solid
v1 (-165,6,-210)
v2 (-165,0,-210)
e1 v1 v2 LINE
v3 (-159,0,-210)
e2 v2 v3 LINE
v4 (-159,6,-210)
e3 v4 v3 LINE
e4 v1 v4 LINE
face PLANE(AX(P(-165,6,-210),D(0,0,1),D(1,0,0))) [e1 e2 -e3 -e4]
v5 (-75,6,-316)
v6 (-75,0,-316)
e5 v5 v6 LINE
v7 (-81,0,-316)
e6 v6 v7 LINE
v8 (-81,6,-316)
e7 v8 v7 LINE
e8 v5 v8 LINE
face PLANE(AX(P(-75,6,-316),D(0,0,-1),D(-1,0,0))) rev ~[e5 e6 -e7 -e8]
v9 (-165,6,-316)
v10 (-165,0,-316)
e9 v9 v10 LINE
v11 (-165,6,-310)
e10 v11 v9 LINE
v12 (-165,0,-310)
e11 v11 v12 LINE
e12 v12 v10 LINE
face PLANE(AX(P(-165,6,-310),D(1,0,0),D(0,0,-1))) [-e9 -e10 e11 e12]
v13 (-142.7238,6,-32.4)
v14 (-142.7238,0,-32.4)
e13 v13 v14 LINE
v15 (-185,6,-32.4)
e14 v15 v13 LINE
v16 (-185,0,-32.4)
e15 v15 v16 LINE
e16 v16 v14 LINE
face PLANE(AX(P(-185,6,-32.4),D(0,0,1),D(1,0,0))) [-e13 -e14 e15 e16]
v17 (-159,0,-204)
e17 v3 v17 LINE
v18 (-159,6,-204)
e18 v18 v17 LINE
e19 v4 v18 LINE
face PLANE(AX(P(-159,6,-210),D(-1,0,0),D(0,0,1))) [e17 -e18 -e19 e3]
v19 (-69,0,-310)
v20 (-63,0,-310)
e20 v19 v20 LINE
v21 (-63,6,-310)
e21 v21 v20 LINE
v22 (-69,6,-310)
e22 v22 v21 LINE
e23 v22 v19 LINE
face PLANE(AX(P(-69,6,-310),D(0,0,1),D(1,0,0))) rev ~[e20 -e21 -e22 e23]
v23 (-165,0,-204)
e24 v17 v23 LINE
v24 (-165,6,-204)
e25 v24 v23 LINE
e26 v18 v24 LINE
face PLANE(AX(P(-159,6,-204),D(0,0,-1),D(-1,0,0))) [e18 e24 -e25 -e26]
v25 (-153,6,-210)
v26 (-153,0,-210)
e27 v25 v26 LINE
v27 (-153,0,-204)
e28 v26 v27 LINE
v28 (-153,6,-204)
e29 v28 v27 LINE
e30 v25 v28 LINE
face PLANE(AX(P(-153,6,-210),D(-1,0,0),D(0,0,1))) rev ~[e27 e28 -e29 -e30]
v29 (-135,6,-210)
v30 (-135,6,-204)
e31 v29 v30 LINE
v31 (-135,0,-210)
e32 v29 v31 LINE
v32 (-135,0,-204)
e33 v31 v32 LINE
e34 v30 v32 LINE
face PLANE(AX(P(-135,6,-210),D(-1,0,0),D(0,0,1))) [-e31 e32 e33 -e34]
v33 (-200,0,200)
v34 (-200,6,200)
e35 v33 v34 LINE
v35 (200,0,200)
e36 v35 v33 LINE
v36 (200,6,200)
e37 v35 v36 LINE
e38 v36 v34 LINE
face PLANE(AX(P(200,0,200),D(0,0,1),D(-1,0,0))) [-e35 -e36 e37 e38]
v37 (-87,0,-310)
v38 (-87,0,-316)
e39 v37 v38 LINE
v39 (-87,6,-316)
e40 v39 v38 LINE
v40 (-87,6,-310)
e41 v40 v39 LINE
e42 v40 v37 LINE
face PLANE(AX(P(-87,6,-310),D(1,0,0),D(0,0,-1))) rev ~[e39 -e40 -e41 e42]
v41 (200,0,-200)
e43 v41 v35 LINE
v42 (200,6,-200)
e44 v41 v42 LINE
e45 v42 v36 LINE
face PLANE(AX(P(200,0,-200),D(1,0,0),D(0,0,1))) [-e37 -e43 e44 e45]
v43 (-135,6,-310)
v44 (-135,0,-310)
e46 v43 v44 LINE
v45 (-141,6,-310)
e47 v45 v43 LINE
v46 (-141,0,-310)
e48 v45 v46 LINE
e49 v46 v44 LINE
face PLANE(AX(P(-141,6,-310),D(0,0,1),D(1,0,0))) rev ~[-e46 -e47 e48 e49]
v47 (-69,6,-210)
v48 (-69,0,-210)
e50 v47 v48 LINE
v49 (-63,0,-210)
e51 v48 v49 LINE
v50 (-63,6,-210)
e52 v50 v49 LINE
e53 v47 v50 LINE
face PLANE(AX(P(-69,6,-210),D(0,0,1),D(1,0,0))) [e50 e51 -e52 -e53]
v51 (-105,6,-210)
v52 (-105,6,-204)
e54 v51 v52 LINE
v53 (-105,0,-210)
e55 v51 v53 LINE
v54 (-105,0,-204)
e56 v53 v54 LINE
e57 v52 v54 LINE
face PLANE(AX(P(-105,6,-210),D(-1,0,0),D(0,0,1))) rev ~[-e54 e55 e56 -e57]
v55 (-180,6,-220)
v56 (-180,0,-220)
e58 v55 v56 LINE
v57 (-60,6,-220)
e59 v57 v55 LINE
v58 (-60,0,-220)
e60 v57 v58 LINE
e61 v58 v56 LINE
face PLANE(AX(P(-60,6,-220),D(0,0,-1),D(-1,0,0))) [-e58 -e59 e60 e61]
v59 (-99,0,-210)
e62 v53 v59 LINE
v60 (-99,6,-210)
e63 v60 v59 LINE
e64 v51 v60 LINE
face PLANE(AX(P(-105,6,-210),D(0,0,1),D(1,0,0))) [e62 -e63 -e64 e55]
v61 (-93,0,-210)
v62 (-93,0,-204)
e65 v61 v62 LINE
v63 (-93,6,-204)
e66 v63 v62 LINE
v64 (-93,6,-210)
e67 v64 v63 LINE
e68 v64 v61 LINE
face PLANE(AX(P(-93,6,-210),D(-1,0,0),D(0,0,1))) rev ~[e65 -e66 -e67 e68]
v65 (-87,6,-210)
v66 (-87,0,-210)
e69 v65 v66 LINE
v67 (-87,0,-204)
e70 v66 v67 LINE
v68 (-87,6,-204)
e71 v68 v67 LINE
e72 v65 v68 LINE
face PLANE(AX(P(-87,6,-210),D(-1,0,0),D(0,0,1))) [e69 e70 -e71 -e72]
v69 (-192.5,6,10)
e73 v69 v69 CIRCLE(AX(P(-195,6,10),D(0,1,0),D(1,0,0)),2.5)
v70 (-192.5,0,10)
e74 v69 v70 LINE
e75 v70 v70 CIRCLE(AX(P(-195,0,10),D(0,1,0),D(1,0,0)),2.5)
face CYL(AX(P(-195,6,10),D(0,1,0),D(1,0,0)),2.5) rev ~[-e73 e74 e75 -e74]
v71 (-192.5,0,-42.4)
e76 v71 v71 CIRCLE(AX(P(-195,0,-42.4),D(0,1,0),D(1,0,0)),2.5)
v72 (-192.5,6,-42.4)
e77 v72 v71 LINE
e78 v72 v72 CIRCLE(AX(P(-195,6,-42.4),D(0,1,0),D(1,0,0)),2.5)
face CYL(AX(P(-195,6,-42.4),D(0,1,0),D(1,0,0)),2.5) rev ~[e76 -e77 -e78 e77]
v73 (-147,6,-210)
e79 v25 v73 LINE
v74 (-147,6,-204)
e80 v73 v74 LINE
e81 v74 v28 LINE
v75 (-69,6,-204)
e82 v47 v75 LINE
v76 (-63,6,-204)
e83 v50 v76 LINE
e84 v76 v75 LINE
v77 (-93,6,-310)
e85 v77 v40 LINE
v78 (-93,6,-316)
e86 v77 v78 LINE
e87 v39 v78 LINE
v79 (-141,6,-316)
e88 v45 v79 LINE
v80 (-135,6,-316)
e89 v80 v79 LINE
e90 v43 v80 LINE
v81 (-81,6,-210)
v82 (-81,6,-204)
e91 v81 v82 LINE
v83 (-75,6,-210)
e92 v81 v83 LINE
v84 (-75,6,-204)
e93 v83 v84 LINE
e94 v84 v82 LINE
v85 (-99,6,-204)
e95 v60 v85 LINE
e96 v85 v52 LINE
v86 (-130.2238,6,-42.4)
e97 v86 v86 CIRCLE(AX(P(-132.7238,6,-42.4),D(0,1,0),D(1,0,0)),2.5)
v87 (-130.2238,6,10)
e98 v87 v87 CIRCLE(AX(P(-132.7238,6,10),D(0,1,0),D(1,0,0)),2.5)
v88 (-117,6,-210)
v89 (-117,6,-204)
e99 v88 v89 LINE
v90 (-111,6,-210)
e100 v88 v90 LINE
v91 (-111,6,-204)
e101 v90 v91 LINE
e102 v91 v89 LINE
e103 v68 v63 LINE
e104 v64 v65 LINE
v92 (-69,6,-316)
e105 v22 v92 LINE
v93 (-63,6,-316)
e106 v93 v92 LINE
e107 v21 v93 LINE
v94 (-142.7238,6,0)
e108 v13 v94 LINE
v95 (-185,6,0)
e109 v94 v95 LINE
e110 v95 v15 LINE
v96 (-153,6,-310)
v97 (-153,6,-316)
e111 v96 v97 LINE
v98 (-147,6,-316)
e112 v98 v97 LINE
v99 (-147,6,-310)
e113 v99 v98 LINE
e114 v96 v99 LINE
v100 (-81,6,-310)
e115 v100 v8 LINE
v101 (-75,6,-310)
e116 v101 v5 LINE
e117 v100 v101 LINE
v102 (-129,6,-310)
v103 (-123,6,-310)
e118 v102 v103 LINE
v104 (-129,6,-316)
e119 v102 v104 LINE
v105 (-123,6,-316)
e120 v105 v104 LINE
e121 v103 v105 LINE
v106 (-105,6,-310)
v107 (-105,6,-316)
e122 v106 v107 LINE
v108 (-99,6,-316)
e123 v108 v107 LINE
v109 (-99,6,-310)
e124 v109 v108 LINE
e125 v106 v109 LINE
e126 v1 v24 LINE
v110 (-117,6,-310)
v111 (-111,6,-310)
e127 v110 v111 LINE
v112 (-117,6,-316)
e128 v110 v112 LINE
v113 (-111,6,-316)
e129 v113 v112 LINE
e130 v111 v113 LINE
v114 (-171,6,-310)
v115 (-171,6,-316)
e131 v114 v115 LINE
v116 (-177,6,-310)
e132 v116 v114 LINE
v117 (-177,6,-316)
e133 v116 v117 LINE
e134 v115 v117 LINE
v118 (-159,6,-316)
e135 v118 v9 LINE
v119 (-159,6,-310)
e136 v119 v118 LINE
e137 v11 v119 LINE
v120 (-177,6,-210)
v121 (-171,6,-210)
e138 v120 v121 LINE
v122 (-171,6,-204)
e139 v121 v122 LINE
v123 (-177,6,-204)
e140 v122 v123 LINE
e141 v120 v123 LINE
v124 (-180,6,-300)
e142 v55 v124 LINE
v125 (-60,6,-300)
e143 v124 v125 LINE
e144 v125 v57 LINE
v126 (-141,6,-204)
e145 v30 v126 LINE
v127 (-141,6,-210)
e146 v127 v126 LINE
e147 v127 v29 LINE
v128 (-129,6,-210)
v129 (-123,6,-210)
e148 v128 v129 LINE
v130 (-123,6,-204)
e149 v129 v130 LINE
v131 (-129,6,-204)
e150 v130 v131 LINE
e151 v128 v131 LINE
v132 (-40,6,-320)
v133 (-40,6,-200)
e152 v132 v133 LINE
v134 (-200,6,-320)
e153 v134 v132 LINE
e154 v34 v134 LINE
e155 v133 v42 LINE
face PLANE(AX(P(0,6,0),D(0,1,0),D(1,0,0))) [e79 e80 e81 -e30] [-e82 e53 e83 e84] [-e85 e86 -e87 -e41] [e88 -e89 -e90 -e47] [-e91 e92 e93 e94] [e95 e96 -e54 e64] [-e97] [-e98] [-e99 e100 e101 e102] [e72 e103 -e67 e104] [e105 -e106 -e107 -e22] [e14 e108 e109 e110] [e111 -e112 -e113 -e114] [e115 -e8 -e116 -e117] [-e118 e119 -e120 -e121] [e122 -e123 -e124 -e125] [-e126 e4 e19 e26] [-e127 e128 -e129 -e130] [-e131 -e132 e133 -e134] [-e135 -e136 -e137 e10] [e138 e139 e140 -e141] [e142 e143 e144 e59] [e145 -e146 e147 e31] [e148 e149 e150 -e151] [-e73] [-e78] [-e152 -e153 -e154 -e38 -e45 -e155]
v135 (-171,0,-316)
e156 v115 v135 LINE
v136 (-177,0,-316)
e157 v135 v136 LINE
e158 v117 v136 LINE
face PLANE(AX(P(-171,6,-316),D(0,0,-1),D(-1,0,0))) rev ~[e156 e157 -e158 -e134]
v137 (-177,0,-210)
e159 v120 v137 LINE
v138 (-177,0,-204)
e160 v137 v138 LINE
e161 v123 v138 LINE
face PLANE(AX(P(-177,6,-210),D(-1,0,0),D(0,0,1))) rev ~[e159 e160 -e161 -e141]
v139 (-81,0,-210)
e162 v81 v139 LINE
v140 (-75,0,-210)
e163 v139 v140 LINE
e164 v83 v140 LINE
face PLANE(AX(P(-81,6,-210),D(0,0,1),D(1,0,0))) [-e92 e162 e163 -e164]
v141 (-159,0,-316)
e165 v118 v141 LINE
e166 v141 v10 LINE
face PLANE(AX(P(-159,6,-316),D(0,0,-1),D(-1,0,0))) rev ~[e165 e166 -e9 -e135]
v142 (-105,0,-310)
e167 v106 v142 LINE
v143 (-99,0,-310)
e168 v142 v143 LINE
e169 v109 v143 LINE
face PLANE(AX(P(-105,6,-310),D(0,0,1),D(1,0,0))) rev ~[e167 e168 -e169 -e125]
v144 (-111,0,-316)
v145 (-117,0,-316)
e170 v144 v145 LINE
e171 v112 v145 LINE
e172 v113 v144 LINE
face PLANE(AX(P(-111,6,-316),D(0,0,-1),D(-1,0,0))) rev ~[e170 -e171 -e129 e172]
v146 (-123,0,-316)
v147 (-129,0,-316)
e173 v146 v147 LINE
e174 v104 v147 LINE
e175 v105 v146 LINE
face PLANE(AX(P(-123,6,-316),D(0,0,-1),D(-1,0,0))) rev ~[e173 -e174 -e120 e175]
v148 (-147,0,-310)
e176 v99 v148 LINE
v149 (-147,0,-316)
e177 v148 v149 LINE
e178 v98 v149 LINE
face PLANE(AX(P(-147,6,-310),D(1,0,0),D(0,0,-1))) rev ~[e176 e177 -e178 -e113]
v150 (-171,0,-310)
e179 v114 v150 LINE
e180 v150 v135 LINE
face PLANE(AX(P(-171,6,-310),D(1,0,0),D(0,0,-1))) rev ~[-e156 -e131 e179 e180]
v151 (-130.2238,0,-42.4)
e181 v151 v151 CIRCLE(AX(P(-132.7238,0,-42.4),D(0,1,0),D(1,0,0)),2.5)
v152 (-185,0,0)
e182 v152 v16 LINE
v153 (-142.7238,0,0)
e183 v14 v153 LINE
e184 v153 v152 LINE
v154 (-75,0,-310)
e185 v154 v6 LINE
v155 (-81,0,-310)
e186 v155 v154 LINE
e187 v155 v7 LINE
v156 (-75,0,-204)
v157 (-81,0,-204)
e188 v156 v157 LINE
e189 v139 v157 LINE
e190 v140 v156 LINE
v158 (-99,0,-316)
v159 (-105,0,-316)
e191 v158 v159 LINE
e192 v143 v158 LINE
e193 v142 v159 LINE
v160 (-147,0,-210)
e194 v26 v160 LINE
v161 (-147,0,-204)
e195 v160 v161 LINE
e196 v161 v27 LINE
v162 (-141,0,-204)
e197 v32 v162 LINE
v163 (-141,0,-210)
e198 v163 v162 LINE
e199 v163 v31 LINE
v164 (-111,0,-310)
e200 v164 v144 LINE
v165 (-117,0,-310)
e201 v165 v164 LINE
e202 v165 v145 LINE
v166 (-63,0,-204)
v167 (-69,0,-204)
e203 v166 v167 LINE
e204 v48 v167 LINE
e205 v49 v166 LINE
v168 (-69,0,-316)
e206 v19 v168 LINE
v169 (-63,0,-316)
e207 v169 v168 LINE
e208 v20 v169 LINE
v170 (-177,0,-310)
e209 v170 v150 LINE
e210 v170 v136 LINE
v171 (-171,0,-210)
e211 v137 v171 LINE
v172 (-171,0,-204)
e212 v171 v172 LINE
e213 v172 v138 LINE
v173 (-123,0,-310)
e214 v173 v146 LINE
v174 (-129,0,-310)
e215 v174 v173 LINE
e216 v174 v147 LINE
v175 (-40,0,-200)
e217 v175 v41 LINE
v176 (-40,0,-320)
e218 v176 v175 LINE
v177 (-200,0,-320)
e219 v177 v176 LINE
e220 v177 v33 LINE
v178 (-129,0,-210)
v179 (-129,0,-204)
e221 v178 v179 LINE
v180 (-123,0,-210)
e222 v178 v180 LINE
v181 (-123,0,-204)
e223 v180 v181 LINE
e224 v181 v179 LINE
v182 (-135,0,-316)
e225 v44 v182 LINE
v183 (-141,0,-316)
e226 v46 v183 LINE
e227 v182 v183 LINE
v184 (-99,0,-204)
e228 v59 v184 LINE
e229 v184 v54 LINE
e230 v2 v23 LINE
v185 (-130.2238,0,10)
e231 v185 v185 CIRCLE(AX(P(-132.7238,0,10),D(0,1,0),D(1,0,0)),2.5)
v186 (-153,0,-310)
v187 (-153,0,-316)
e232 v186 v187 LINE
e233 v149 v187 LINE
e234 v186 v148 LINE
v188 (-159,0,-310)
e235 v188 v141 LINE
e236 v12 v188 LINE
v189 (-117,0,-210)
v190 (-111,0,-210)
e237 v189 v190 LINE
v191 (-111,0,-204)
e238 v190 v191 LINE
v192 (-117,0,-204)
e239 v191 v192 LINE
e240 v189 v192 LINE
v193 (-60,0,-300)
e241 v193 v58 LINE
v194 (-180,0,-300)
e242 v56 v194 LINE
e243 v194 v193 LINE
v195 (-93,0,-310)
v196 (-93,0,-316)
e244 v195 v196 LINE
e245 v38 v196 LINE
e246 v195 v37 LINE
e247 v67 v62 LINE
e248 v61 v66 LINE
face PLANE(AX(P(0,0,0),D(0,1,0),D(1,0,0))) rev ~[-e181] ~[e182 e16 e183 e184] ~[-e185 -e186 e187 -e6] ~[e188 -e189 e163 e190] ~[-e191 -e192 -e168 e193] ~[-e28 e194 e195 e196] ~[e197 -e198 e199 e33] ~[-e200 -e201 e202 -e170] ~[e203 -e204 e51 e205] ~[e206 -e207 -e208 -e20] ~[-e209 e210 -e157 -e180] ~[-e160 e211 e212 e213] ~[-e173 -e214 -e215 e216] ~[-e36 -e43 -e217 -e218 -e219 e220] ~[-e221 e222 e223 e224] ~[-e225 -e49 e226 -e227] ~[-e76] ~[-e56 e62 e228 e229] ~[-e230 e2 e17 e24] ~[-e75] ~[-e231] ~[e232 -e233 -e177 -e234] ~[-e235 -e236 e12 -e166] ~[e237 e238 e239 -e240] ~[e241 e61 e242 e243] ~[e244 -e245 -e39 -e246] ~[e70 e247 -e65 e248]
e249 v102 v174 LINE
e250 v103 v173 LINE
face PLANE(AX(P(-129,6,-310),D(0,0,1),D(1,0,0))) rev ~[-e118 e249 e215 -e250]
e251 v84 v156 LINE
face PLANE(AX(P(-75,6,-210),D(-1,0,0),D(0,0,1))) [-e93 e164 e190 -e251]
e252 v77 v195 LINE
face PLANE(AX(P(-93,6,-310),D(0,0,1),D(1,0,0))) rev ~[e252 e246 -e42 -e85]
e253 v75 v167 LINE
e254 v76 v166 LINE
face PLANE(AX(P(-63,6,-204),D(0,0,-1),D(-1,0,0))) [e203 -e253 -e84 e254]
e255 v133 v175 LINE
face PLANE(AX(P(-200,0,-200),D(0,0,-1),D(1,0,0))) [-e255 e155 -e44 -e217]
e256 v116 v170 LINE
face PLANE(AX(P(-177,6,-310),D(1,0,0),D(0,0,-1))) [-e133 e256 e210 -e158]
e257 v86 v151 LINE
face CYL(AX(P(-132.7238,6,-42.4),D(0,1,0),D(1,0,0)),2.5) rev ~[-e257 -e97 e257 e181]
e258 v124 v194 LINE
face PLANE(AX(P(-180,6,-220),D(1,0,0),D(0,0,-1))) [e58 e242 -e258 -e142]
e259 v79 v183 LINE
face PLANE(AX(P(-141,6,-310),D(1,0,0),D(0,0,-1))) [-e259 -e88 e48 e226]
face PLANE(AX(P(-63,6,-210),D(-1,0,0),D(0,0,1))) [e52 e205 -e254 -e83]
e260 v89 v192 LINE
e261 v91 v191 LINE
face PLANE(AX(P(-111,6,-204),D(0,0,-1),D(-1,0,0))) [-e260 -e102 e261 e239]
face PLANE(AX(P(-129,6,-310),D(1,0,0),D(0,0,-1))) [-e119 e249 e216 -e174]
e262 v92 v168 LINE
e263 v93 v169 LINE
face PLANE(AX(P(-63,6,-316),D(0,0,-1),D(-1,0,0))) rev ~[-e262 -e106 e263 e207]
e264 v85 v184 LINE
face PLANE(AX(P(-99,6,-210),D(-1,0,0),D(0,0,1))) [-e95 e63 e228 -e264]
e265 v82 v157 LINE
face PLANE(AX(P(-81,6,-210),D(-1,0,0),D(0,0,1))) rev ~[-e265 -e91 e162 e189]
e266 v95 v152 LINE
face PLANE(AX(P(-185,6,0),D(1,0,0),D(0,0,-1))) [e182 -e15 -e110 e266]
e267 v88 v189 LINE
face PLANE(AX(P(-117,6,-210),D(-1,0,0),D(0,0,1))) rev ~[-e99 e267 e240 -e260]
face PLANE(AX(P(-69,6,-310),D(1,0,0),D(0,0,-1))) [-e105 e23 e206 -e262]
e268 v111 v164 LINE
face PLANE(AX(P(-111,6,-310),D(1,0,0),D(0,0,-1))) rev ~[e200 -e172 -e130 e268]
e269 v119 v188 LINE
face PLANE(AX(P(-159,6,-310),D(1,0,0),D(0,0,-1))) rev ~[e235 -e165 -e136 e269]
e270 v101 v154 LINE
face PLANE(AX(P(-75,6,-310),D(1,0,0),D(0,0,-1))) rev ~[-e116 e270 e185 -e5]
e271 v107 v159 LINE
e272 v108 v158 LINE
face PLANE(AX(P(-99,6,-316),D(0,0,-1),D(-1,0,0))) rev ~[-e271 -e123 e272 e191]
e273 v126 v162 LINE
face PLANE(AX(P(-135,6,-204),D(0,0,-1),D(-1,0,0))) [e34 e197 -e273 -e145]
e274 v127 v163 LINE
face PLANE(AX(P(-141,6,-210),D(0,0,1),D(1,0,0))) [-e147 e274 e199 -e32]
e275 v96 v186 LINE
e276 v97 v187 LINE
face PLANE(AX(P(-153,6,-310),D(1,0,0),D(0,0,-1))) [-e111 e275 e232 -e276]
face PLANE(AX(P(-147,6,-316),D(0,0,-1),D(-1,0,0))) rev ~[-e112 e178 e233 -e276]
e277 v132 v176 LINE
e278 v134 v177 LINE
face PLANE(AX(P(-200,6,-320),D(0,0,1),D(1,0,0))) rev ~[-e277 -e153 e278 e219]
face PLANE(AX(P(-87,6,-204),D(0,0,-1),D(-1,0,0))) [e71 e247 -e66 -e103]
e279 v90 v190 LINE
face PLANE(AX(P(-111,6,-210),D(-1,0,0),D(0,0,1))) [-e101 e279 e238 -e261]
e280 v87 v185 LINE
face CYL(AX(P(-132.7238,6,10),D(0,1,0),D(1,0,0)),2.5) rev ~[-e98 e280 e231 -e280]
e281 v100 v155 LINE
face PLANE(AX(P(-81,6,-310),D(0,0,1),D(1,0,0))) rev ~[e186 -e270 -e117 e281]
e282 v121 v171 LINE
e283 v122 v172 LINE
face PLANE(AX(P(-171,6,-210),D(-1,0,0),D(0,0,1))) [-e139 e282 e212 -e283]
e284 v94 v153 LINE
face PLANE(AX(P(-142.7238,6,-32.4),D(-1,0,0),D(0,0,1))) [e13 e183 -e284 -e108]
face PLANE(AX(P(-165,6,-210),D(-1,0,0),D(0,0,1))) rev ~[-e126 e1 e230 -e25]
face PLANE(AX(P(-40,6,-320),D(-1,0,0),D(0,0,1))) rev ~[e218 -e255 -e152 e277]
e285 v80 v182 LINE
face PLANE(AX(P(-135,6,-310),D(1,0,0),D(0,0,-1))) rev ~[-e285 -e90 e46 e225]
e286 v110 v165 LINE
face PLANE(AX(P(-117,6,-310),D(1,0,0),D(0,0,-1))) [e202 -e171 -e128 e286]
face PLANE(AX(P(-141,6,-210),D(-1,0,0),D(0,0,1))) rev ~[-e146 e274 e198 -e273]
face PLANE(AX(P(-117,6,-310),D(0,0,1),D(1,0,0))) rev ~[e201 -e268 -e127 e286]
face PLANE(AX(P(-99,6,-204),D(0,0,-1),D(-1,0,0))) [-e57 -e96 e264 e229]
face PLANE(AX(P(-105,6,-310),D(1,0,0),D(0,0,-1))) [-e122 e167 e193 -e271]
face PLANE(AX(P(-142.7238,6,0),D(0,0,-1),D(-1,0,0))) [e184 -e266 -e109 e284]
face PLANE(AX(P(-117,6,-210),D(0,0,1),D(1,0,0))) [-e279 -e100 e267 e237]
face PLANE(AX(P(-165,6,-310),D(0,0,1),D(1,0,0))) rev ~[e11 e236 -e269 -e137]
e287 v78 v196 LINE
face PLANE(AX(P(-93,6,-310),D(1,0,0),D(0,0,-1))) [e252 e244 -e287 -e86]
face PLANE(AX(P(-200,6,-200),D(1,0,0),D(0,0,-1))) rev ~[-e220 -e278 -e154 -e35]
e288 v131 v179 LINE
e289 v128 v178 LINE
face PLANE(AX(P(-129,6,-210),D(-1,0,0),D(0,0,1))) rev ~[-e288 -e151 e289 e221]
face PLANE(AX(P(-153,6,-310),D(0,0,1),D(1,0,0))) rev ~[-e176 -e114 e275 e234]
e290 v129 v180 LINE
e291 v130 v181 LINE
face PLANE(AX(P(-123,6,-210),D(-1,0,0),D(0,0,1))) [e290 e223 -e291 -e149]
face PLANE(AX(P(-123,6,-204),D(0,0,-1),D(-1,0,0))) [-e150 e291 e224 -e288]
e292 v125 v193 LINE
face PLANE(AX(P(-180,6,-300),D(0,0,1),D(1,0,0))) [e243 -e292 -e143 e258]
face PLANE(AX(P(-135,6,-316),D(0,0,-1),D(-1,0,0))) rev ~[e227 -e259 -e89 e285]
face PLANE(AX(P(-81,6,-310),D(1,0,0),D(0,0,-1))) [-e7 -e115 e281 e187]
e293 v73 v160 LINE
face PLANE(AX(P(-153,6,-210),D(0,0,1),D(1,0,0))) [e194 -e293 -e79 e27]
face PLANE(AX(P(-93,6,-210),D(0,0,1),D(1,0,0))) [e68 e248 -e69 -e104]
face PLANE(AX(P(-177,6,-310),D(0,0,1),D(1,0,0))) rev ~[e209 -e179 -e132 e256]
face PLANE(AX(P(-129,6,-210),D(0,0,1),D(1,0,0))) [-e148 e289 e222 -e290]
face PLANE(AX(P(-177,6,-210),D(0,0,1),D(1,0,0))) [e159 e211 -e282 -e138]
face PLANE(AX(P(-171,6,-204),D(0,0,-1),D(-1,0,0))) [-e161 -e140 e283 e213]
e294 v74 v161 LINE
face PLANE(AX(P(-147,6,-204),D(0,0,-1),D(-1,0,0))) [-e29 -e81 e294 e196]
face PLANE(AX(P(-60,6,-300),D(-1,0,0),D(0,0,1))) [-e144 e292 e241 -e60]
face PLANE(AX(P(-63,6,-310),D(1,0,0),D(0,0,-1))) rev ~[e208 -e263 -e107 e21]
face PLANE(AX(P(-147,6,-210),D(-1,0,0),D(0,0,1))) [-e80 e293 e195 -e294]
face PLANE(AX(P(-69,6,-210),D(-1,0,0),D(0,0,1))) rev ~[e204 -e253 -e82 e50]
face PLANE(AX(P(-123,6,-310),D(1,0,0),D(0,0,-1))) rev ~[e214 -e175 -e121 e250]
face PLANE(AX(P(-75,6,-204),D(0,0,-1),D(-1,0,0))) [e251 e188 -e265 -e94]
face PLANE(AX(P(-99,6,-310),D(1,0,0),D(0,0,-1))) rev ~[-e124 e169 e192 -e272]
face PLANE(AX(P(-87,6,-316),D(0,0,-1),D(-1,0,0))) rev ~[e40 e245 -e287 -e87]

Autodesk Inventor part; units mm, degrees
ref_plane "YZ Plane" through (0, 0, 0) normal (1, 0, 0) x (0, 1, 0)
ref_plane "XZ Plane" through (0, 0, 0) normal (0, 1, 0) x (-1, 0, 0)
ref_plane "XY Plane" through (0, 0, 0) normal (0, 0, 1) x (1, 0, 0)
sketch "Sketch1" plane through (0, 0, 0) normal (0, 1, 0) x (-1, 0, 0)
  line L0 (-200, 200) -> (200, 200)
  line L1 (200, 200) -> (200, -200)
  line L2 (200, -200) -> (-200, -200)
  line L3 (-200, -200) -> (-200, 200)
  line L4 (-200, 200) -> (200, -200) construction
  line L5 (200, 200) -> (-200, -200) construction
  point P0 (0, 0)
  dimension "d0" = 400
  dimension "d1" = 400
extrude "Extrusion1" add sketch "Sketch1" along normal blind 6
sketch "Sketch2" plane through (0, 6, 0) normal (0, 1, 0) x (1, 0, 0)
  line L0 (-190, -5) -> (-137.7238, -5)
  line L1 (-137.7238, -5) -> (-137.7238, 37.4)
  line L2 (-190, 37.4) -> (-137.7238, 37.4)
  line L3 (-190, -5) -> (-190, 37.4)
  line L4 (-142.7238, 32.4) -> (-142.7238, 0)
  line L5 (-142.7238, 0) -> (-185, 0)
  line L6 (-185, 0) -> (-185, 32.4)
  line L7 (-185, 32.4) -> (-142.7238, 32.4)
  line L8 (-127.7238, 47.4) -> (-127.7238, -15)
  line L9 (-127.7238, -15) -> (-200, -15)
  line L10 (-200, -15) -> (-200, 47.4)
  line L11 (-200, 47.4) -> (-127.7238, 47.4)
  line L12 (-132.7238, 42.4) -> (-132.7238, -10) construction
  line L13 (-132.7238, -10) -> (-195, -10) construction
  line L14 (-195, -10) -> (-195, 42.4) construction
  line L15 (-195, 42.4) -> (-132.7238, 42.4) construction
  circle A0 centre (-132.7238, 42.4) radius 2.5
  circle A1 centre (-195, 42.4) radius 2.5
  circle A2 centre (-195, -10) radius 2.5
  circle A3 centre (-132.7238, -10) radius 2.5
  line L16 (-200, -200) -> (200, -200) projected
  line L17 (-200, 200) -> (-200, -200) projected
  point P0 (0, 0)
  point P1 (-163.8619, -15)
  dimension "d4" = 5
  dimension "d5" = 10
  dimension "d6" = 5
  dimension "d7" = 5
  dimension "d8" = 5
  dimension "d9" = 5
  dimension "d10" = 5
  dimension "d11" = 62.4
  dimension "d12" = 72.2762
  dimension "d13" = 42.4
  dimension "d14" = 52.2762
  dimension "d18" = 185
extrude "Extrusion2" cut sketch "Sketch2" against normal through all contours L4 L5 L6 L7 | A0 | A1 | A2 | A3
sketch "Sketch3" plane through (0, 6, 0) normal (0, 1, 0) x (1, 0, 0)
  line L0 (200, 200) -> (-200, 200) projected
  line L1 (-200, 200) -> (-200, 320)
  line L2 (-200, 320) -> (-40, 320)
  line L3 (-40, 320) -> (-40, 200)
  line L4 (-180, 300) -> (-60, 300)
  line L5 (-60, 300) -> (-60, 220)
  line L6 (-60, 220) -> (-180, 220)
  line L7 (-180, 220) -> (-180, 300)
  point P0 (0, 0)
  point P1 (-120, 300)
  dimension "d19" = 120
  dimension "d20" = 160
  dimension "d21" = 120
  dimension "d22" = 80
  dimension "d23" = 20
  dimension "d24" = 20
extrude "Extrusion3" add sketch "Sketch3" against normal blind 6
sketch "Sketch4" plane through (0, 6, 0) normal (0, 1, 0) x (1, 0, 0)
  line L0 (-180, 210) -> (-60, 210)
  line L1 (-60, 210) -> (-60, 204)
  line L2 (-60, 204) -> (-180, 204)
  line L3 (-180, 204) -> (-180, 210)
  line L4 (-60, 220) -> (-180, 220) projected
  line L5 (-200, 320) -> (-200, -200) projected
  line L6 (-177, 210) -> (-177, 204)
  line L7 (-171, 210) -> (-171, 204)
  line L8 (-171, 210) -> (-171, 204)
  line L9 (-165, 210) -> (-165, 204)
  line L10 (-165, 210) -> (-165, 204)
  line L11 (-159, 210) -> (-159, 204)
  line L12 (-159, 210) -> (-159, 204)
  line L13 (-153, 210) -> (-153, 204)
  line L14 (-153, 210) -> (-153, 204)
  line L15 (-147, 210) -> (-147, 204)
  line L16 (-147, 210) -> (-147, 204)
  line L17 (-141, 210) -> (-141, 204)
  line L18 (-141, 210) -> (-141, 204)
  line L19 (-135, 210) -> (-135, 204)
  line L20 (-135, 210) -> (-135, 204)
  line L21 (-129, 210) -> (-129, 204)
  line L22 (-129, 210) -> (-129, 204)
  line L23 (-123, 210) -> (-123, 204)
  line L24 (-123, 210) -> (-123, 204)
  line L25 (-117, 210) -> (-117, 204)
  line L26 (-117, 210) -> (-117, 204)
  line L27 (-111, 210) -> (-111, 204)
  line L28 (-111, 210) -> (-111, 204)
  line L29 (-105, 210) -> (-105, 204)
  line L30 (-105, 210) -> (-105, 204)
  line L31 (-99, 210) -> (-99, 204)
  line L32 (-99, 210) -> (-99, 204)
  line L33 (-93, 210) -> (-93, 204)
  line L34 (-93, 210) -> (-93, 204)
  line L35 (-87, 210) -> (-87, 204)
  line L36 (-87, 210) -> (-87, 204)
  line L37 (-81, 210) -> (-81, 204)
  line L38 (-81, 210) -> (-81, 204)
  line L39 (-75, 210) -> (-75, 204)
  line L40 (-75, 210) -> (-75, 204)
  line L41 (-69, 210) -> (-69, 204)
  line L42 (-69, 210) -> (-69, 204)
  line L43 (-63, 210) -> (-63, 204)
  line L44 (-180, 220) -> (-180, 300) projected
  line L45 (-180, 300) -> (-60, 300) projected
  line L46 (-60, 300) -> (-60, 220) projected
  line L47 (-180, 260) -> (-60, 260) construction
  line L48 (-180, 310) -> (-60, 310)
  line L49 (-60, 310) -> (-60, 316)
  line L50 (-60, 316) -> (-180, 316)
  line L51 (-180, 316) -> (-180, 310)
  line L52 (-177, 310) -> (-177, 316)
  line L53 (-171, 310) -> (-171, 316)
  line L54 (-171, 310) -> (-171, 316)
  line L55 (-165, 310) -> (-165, 316)
  line L56 (-165, 310) -> (-165, 316)
  line L57 (-159, 310) -> (-159, 316)
  line L58 (-159, 310) -> (-159, 316)
  line L59 (-153, 310) -> (-153, 316)
  line L60 (-153, 310) -> (-153, 316)
  line L61 (-147, 310) -> (-147, 316)
  line L62 (-147, 310) -> (-147, 316)
  line L63 (-141, 310) -> (-141, 316)
  line L64 (-141, 310) -> (-141, 316)
  line L65 (-135, 310) -> (-135, 316)
  line L66 (-135, 310) -> (-135, 316)
  line L67 (-129, 310) -> (-129, 316)
  line L68 (-129, 310) -> (-129, 316)
  line L69 (-123, 310) -> (-123, 316)
  line L70 (-123, 310) -> (-123, 316)
  line L71 (-117, 310) -> (-117, 316)
  line L72 (-117, 310) -> (-117, 316)
  line L73 (-111, 310) -> (-111, 316)
  line L74 (-111, 310) -> (-111, 316)
  line L75 (-105, 310) -> (-105, 316)
  line L76 (-105, 310) -> (-105, 316)
  line L77 (-99, 310) -> (-99, 316)
  line L78 (-99, 310) -> (-99, 316)
  line L79 (-93, 310) -> (-93, 316)
  line L80 (-93, 310) -> (-93, 316)
  line L81 (-87, 310) -> (-87, 316)
  line L82 (-87, 310) -> (-87, 316)
  line L83 (-81, 310) -> (-81, 316)
  line L84 (-81, 310) -> (-81, 316)
  line L85 (-75, 310) -> (-75, 316)
  line L86 (-75, 310) -> (-75, 316)
  line L87 (-69, 310) -> (-69, 316)
  line L88 (-69, 310) -> (-69, 316)
  line L89 (-63, 310) -> (-63, 316)
  point P0 (0, 0)
  point P1 (-180, 207)
  point P2 (-177, 207)
  point P3 (-171, 207)
  point P4 (-165, 207)
  point P5 (-159, 207)
  point P6 (-153, 207)
  point P7 (-147, 207)
  point P8 (-141, 207)
  point P9 (-135, 207)
  point P10 (-129, 207)
  point P11 (-123, 207)
  point P12 (-117, 207)
  point P13 (-111, 207)
  point P14 (-105, 207)
  point P15 (-99, 207)
  point P16 (-93, 207)
  point P17 (-87, 207)
  point P18 (-81, 207)
  point P19 (-75, 207)
  point P20 (-69, 207)
  point P21 (-180, 313)
  point P22 (-177, 313)
  point P23 (-171, 313)
  point P24 (-165, 313)
  point P25 (-159, 313)
  point P26 (-153, 313)
  point P27 (-147, 313)
  point P28 (-141, 313)
  point P29 (-135, 313)
  point P30 (-129, 313)
  point P31 (-123, 313)
  point P32 (-117, 313)
  point P33 (-111, 313)
  point P34 (-105, 313)
  point P35 (-99, 313)
  point P36 (-93, 313)
  point P37 (-87, 313)
  point P38 (-81, 313)
  point P39 (-75, 313)
  point P40 (-69, 313)
  dimension "d27" = 120
  dimension "d28" = 6
  dimension "d29" = 10
  dimension "d30" = 20
  dimension "d31" = 3
  dimension "d32" = 6
  dimension "d35" = 6
extrude "Extrusion4" cut sketch "Sketch4" against normal blind 6 contours L0 L7 L2 L6 | L0 L11 L2 L9 | L0 L15 L2 L13 | L0 L19 L2 L17 | L0 L23 L2 L21 | L0 L27 L2 L25 | L0 L31 L2 L29 | L0 L35 L2 L33 | L0 L39 L2 L37 | L0 L43 L2 L41 | L52 L50 L53 L48 | L55 L50 L57 L48 | L59 L50 L61 L48 | L63 L50 L65 L48 | L67 L50 L69 L48 | L71 L50 L73 L48 | L75 L50 L77 L48 | L79 L50 L81 L48 | L83 L50 L85 L48 | L87 L50 L89 L48
sketch "Sketch5" plane through (0, 6, 0) normal (0, 1, 0) x (1, 0, 0)
  line L0 (200, -200) -> (200, 200) projected
  line L1 (200, 200) -> (-40, 200) projected
  line L2 (200, 0) -> (-40, 0)
  line L3 (-40, 0) -> (-40, 200)
  line L4 (-40, 200) -> (200, 200)
  line L5 (200, 200) -> (200, 0)
  point P0 (0, 0)
  dimension "d42" = 240
equation "\"d40\" = d32"
properties part number "base zzzz"
